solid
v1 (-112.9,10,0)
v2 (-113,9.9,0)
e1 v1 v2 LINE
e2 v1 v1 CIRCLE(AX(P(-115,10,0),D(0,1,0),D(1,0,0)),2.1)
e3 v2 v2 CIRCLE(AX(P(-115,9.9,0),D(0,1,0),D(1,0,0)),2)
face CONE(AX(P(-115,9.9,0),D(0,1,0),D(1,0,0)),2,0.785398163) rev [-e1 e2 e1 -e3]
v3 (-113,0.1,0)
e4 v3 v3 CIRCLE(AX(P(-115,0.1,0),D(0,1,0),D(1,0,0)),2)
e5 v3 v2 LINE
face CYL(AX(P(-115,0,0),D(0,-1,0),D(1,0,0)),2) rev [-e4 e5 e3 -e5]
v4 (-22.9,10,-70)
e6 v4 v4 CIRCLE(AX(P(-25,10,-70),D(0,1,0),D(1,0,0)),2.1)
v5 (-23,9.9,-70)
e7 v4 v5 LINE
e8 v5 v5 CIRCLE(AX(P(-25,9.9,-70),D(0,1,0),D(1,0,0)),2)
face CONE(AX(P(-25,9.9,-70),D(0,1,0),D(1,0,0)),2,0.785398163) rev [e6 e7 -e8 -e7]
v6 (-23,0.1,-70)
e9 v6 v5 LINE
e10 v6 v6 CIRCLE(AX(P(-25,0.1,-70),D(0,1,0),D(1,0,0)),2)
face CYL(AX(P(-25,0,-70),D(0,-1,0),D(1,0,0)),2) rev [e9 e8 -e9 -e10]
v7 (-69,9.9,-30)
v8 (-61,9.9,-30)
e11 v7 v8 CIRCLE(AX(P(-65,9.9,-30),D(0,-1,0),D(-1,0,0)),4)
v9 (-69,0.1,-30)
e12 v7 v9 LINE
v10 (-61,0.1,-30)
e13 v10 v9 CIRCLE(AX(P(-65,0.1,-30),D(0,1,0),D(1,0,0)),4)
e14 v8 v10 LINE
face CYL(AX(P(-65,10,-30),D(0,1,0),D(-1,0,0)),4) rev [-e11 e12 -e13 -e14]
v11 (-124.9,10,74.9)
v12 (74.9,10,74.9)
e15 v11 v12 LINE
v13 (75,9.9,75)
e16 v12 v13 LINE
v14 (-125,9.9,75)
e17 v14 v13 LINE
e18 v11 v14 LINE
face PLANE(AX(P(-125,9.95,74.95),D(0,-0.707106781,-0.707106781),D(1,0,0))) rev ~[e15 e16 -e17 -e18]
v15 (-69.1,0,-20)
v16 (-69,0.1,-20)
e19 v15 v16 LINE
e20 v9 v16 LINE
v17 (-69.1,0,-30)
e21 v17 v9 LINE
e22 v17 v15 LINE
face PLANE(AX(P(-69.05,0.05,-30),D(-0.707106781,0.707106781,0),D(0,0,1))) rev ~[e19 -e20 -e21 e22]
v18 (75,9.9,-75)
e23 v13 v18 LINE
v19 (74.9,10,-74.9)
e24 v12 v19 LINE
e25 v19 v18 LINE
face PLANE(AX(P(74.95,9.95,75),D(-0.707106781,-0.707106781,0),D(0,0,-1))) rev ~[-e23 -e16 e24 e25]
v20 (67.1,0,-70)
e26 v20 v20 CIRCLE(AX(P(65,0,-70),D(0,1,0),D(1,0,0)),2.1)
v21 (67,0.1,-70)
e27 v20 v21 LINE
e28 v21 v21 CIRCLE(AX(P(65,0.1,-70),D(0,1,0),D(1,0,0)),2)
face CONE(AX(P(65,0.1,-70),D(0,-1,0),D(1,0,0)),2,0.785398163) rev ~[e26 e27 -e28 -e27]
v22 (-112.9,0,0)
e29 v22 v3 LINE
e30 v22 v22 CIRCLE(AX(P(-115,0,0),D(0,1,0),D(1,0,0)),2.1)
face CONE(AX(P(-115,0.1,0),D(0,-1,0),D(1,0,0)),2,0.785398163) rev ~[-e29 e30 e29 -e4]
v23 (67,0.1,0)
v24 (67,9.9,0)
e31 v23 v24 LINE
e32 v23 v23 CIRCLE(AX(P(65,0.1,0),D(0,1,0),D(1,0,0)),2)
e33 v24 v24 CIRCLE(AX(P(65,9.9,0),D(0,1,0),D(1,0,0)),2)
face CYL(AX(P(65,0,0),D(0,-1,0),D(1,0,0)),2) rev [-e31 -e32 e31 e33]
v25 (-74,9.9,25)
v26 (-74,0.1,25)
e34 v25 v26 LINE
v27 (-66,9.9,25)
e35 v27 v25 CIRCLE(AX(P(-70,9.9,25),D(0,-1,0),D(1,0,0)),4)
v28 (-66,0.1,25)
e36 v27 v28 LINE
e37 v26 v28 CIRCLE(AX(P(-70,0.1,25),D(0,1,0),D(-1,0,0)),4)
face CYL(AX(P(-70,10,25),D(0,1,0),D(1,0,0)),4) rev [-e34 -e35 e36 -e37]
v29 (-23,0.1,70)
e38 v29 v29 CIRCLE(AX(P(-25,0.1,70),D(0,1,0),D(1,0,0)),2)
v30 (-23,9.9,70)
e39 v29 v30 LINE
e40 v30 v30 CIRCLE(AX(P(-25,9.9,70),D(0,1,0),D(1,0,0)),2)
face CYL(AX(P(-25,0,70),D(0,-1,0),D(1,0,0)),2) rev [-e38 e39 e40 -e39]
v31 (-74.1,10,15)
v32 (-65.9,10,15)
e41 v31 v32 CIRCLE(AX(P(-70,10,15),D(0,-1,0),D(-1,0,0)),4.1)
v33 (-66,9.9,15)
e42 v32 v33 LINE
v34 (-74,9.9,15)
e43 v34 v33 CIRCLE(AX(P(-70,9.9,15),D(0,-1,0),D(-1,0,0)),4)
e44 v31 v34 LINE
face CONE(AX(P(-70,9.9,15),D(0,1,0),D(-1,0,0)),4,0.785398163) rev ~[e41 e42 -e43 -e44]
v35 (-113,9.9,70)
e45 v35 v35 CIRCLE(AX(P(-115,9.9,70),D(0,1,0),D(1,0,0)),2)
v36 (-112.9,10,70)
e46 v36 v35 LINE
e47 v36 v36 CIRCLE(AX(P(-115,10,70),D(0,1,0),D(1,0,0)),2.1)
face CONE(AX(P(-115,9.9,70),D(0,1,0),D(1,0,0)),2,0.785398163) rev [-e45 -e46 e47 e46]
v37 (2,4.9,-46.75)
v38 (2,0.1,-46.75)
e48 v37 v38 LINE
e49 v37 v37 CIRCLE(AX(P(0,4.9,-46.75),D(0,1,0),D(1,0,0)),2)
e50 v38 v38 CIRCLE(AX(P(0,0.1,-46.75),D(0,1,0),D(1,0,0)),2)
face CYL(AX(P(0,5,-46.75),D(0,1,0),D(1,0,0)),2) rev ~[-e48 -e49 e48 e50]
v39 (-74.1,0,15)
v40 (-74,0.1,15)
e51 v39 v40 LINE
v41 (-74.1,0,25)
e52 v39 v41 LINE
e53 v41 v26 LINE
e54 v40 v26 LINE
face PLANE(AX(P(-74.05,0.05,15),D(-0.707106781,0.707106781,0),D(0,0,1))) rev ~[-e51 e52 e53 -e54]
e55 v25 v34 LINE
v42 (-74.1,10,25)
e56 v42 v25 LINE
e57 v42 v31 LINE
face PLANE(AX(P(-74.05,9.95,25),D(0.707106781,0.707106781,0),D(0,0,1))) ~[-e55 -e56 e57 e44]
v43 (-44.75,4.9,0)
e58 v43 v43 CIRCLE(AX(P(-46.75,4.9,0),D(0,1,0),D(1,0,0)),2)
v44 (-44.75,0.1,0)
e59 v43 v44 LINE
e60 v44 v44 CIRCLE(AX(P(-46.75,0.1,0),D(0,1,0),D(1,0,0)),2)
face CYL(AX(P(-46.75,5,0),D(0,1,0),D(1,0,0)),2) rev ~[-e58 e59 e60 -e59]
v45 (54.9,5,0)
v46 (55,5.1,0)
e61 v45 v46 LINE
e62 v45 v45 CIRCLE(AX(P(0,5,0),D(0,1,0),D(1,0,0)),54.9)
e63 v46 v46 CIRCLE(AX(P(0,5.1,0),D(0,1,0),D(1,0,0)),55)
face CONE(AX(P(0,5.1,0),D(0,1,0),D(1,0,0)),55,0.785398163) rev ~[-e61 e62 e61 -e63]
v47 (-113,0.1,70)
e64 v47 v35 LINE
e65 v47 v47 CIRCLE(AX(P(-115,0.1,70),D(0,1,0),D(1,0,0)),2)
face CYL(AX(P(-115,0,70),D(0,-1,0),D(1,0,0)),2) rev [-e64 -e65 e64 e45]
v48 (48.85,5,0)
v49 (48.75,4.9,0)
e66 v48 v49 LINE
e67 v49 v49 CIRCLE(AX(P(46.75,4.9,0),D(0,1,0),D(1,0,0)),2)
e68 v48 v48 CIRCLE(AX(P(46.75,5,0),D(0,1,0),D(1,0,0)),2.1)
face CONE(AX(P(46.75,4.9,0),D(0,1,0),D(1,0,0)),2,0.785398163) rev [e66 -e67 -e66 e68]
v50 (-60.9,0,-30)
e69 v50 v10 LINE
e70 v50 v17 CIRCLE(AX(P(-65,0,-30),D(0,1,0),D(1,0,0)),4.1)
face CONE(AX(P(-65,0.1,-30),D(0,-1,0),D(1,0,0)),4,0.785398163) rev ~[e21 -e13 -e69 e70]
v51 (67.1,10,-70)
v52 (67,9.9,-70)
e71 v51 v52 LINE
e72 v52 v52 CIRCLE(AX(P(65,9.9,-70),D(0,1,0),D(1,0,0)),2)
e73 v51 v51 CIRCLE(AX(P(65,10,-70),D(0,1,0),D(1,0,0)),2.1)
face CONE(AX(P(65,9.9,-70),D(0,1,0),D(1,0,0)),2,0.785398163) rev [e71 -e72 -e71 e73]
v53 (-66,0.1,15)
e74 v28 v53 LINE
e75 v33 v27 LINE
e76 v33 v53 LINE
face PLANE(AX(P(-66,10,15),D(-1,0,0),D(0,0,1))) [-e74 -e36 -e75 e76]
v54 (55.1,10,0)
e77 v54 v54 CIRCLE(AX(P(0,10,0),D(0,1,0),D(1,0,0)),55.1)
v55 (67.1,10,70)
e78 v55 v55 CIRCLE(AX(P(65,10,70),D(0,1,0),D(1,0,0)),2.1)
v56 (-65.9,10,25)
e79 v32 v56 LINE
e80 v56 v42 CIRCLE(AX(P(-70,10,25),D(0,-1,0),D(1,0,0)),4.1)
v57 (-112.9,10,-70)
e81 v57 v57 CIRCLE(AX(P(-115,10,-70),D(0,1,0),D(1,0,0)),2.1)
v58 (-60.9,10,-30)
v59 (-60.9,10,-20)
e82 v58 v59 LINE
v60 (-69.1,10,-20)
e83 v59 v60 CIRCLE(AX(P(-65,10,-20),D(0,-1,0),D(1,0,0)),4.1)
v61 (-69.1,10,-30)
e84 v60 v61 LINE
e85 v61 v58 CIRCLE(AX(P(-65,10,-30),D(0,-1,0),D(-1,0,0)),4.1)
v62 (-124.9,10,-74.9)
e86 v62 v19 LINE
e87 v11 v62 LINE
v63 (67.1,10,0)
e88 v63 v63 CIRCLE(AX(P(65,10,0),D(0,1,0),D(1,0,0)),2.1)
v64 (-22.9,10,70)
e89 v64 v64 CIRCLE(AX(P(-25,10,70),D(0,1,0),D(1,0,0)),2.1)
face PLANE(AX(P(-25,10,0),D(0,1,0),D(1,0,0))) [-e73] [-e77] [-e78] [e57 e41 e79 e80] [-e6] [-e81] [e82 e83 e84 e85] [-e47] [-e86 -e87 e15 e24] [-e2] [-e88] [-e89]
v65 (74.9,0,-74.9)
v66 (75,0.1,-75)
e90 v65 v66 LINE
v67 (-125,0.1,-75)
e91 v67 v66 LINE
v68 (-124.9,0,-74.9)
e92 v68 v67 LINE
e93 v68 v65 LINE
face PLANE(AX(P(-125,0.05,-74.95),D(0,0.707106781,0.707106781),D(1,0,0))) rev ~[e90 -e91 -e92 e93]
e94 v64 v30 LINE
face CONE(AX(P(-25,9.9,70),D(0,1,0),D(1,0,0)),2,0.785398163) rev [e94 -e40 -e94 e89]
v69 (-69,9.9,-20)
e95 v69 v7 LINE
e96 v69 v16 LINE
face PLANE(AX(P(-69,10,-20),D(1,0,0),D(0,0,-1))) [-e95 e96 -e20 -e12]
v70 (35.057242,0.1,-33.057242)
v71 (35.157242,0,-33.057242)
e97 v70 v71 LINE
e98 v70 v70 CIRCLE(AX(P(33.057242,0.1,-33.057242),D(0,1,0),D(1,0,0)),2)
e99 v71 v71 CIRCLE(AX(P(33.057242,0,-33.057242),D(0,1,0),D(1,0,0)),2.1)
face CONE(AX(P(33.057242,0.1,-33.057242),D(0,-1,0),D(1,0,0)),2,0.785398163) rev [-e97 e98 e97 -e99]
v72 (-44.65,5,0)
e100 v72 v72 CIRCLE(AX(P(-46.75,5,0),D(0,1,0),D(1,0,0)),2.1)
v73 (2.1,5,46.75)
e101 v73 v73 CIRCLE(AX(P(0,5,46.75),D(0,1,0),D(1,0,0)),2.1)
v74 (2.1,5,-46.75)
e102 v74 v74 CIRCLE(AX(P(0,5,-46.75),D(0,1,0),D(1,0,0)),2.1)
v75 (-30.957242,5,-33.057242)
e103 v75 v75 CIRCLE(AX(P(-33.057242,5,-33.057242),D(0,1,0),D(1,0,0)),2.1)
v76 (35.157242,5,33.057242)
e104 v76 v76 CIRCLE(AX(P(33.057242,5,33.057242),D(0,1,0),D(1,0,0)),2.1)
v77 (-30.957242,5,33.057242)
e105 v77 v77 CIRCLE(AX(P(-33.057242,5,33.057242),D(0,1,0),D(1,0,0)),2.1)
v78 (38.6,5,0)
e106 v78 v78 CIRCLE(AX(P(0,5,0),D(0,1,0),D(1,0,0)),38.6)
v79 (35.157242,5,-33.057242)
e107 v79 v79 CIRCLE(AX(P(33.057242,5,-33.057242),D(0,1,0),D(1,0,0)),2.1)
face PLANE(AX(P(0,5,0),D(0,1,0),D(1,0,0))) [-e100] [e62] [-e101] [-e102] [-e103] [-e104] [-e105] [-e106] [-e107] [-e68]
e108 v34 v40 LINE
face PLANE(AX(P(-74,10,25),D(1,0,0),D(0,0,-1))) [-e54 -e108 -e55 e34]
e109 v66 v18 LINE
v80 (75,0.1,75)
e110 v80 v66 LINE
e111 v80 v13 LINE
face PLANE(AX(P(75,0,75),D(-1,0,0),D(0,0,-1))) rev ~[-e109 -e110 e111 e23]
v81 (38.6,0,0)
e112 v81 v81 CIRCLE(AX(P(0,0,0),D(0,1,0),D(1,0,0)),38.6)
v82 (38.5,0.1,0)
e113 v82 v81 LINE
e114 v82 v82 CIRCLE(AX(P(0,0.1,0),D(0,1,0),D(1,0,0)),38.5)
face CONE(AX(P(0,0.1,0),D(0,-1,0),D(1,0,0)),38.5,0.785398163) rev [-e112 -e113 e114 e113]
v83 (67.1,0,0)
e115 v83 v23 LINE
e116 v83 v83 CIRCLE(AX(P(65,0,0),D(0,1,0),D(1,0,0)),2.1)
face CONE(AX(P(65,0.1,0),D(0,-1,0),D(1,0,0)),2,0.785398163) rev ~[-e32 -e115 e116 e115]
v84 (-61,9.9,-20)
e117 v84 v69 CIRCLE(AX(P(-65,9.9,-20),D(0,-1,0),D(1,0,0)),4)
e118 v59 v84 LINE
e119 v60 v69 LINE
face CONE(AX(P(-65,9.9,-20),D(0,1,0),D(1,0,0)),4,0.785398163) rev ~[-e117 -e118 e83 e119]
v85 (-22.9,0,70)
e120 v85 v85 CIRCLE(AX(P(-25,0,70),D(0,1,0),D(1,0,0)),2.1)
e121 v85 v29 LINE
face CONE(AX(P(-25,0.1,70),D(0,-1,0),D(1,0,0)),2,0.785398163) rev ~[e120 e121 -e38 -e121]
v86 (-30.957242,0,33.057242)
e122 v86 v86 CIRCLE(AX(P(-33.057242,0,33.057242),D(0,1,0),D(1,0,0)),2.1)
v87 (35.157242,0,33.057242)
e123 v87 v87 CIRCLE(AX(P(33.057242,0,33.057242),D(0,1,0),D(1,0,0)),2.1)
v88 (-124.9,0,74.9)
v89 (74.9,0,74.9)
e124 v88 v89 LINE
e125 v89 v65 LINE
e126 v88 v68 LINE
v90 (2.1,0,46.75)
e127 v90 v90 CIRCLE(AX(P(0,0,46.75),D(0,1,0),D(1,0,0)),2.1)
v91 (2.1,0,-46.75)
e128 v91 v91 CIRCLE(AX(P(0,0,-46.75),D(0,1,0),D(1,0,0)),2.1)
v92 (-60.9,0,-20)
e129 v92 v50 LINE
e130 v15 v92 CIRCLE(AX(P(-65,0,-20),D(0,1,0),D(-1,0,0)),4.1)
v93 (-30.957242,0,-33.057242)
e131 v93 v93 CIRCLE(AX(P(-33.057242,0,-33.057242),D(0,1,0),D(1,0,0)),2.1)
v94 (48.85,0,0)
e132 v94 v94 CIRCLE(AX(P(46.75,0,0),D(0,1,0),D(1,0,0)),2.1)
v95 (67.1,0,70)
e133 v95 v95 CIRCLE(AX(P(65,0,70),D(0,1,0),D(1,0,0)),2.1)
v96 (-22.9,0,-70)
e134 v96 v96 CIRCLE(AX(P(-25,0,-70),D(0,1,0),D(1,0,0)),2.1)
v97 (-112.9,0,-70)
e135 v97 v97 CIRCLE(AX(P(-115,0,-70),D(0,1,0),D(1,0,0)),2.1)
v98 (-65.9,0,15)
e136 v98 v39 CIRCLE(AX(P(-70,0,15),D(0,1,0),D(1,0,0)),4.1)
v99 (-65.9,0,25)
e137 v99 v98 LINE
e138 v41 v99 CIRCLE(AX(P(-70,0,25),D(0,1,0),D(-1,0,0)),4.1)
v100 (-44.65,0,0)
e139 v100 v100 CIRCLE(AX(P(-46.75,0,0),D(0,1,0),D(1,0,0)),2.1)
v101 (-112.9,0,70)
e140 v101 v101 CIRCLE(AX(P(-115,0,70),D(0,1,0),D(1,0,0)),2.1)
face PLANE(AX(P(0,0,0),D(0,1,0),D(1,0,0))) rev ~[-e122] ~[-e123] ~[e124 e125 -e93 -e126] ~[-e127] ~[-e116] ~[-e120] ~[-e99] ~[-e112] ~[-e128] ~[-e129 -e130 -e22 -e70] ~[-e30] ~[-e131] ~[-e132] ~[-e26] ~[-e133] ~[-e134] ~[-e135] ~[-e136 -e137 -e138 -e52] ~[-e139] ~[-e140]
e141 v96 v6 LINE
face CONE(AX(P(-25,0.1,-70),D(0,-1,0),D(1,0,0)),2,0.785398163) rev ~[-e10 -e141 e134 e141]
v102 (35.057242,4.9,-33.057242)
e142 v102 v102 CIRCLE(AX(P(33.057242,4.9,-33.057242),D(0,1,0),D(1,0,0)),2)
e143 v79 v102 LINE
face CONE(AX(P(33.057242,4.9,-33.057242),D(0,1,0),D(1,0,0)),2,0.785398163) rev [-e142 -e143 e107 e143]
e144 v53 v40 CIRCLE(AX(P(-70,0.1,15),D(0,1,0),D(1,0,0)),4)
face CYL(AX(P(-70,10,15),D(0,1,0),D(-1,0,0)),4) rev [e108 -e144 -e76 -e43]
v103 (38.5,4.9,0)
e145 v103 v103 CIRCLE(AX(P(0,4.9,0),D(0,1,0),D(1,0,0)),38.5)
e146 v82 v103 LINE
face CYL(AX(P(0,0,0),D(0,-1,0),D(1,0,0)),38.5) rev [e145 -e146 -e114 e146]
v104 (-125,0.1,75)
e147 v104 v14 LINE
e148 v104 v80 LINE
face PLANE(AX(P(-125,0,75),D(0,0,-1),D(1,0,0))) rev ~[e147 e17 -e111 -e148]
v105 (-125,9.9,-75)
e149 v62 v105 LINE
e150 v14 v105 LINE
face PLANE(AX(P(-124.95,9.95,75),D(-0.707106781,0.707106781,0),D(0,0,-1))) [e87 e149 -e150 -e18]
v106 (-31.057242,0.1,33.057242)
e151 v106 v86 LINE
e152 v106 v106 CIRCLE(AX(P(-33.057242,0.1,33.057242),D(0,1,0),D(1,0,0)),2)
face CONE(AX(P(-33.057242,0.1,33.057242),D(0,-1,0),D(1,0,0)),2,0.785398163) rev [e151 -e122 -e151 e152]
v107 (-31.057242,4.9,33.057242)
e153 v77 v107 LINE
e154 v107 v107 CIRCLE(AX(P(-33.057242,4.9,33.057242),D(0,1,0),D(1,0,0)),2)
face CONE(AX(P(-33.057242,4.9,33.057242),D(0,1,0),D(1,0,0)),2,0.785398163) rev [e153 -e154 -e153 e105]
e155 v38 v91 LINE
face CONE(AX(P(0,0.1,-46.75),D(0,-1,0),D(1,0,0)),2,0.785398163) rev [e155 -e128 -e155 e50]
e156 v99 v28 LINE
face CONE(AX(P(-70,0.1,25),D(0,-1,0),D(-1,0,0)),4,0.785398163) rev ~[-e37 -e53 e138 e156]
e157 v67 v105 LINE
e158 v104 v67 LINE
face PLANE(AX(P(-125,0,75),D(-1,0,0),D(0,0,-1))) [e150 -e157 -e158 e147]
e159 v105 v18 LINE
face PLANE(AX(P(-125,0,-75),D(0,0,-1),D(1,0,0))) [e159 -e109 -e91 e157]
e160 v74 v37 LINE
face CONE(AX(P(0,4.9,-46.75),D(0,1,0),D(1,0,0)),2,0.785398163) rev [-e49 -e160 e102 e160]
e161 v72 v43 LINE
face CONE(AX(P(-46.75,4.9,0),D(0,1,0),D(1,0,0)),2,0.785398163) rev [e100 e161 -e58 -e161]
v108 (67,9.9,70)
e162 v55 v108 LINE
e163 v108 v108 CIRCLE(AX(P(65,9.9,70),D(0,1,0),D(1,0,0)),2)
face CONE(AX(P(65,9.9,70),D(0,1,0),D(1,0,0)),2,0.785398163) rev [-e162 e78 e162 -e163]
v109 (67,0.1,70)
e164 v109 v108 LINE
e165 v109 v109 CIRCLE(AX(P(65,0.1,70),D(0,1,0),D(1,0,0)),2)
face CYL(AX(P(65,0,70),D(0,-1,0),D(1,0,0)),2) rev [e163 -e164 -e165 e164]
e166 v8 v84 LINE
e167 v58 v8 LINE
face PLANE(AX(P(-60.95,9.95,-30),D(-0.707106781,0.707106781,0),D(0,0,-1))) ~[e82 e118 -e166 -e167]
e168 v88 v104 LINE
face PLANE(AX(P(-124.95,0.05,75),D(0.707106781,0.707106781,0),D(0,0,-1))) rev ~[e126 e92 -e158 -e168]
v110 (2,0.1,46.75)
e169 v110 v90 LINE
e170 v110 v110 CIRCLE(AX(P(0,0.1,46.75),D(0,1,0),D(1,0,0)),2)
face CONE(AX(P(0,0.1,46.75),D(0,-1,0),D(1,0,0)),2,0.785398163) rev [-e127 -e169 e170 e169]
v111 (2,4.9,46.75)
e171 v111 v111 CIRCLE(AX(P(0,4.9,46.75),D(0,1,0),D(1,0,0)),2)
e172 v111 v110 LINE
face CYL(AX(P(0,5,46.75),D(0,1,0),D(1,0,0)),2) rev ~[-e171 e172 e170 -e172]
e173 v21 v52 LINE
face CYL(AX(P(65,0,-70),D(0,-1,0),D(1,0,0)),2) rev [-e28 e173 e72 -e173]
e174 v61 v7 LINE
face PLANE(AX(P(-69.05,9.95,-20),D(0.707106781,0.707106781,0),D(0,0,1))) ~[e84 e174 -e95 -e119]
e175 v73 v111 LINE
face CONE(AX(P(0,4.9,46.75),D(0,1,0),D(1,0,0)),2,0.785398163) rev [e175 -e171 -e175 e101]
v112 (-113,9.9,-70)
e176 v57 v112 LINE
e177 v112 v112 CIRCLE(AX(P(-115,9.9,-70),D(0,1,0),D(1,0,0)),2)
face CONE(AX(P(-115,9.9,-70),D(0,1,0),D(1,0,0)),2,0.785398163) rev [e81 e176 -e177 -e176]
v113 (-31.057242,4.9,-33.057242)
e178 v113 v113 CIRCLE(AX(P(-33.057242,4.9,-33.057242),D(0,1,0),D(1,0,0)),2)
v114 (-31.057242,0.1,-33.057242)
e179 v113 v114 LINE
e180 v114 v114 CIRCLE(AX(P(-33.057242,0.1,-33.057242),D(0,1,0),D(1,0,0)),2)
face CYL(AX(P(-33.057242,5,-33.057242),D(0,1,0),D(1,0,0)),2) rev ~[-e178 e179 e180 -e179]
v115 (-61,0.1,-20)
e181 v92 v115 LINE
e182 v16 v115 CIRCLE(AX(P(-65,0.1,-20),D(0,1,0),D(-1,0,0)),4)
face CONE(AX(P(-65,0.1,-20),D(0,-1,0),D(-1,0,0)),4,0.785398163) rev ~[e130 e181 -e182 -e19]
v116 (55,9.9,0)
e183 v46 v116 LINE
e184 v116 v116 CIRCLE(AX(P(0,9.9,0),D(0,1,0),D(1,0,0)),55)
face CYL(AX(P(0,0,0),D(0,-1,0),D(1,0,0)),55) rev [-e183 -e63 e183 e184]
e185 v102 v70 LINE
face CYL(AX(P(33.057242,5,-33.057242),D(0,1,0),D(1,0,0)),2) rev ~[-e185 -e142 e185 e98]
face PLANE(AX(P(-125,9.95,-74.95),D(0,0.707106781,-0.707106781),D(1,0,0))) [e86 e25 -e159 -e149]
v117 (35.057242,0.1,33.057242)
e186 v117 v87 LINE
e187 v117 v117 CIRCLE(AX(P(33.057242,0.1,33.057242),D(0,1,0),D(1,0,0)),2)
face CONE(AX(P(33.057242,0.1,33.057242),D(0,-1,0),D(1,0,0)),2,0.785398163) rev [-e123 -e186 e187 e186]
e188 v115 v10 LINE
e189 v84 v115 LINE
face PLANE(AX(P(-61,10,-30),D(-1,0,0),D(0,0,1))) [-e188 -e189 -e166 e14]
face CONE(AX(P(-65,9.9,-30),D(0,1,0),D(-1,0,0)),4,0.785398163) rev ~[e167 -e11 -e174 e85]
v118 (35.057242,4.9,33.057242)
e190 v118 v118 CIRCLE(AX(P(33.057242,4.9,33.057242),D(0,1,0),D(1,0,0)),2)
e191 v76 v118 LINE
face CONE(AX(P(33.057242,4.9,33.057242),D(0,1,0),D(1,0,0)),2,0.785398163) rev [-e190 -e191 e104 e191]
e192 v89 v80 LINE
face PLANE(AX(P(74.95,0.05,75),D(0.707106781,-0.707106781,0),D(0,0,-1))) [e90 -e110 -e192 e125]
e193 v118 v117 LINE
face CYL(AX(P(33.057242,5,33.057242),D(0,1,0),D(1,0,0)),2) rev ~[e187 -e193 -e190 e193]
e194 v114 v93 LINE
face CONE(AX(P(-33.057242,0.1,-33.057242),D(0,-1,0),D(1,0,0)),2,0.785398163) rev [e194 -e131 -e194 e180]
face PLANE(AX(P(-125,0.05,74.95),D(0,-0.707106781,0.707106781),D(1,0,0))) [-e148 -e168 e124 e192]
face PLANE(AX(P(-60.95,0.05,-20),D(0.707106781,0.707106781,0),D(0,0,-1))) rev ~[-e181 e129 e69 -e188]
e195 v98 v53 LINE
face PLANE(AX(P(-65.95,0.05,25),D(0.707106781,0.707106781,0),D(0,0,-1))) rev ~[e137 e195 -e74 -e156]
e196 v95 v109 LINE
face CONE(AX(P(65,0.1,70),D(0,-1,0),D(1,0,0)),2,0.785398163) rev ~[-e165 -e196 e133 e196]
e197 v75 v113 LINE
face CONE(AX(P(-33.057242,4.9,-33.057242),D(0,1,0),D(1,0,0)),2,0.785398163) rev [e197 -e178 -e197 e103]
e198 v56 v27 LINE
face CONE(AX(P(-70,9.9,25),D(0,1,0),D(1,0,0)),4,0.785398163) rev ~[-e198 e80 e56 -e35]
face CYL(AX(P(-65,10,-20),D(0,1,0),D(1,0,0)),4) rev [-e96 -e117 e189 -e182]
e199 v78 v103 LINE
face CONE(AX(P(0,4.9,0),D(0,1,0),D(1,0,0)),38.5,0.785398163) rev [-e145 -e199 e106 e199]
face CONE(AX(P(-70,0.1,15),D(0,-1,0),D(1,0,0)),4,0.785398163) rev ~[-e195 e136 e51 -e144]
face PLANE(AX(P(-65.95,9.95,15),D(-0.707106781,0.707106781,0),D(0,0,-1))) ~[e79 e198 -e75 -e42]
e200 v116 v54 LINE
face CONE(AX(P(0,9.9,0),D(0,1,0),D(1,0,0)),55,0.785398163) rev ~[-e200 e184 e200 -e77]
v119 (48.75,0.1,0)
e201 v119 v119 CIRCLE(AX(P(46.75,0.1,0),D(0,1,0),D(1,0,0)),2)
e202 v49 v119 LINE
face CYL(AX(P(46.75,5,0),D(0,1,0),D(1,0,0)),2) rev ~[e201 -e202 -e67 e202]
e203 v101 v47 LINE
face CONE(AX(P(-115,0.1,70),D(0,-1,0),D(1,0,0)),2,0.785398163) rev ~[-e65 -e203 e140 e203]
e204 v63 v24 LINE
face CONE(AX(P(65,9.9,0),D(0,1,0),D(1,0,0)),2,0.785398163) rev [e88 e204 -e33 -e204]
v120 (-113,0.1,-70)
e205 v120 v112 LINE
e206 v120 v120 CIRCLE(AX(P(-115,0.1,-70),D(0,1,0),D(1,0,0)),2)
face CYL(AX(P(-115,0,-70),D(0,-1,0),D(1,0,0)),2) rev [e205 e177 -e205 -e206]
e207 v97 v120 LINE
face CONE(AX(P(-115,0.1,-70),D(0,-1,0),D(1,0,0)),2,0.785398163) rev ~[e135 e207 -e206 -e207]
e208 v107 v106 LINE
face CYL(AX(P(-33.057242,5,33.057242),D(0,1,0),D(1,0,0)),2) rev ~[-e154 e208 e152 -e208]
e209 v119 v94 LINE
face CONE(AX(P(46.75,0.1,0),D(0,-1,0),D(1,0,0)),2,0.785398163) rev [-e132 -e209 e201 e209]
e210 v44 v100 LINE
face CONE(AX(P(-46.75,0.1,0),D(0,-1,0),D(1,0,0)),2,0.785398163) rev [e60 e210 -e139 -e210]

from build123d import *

# Parameters (mm, degrees)
SKETCH1_W           = 200
SKETCH1_H           = 150
SKETCH1_R           = 2
SKETCH1_R_2         = 55
BOSS_EXTRUDE1_DEPTH = 10
SKETCH1_3_R         = 55
SKETCH1_3_R_2       = 38.5
BOSS_EXTRUDE2_DEPTH = 5
SKETCH1_4_R         = 38.5
BOSS_EXTRUDE3_DEPTH = 9
SKETCH2_R           = 2
CUT_EXTRUDE1_DEPTH  = 146.859521458
SKETCH1_5_R         = 38.5
CUT_EXTRUDE2_DEPTH  = 147.116391962
CUT_EXTRUDE3_DEPTH  = 147.116391962
CHAMFER1_SIZE       = 0.1


with BuildPart() as part:
    # Sketch1 → Boss-Extrude1 (new body)
    with BuildSketch(Plane(origin=(0, 0, 0), x_dir=(1, 0, 0), z_dir=(0, 1, 0))):
        with Locations((-25, 0)):
            Rectangle(SKETCH1_W, SKETCH1_H)
        with Locations((-115, -70)):
            Circle(SKETCH1_R, mode=Mode.SUBTRACT)
        with Locations((-25, -70)):
            Circle(SKETCH1_R, mode=Mode.SUBTRACT)
        with Locations((65, -70)):
            Circle(SKETCH1_R, mode=Mode.SUBTRACT)
        with Locations((-115, 0)):
            Circle(SKETCH1_R, mode=Mode.SUBTRACT)
        with Locations((-115, 70)):
            Circle(SKETCH1_R, mode=Mode.SUBTRACT)
        Circle(SKETCH1_R_2, mode=Mode.SUBTRACT)
        with Locations((65, 0)):
            Circle(SKETCH1_R, mode=Mode.SUBTRACT)
        with Locations((-25, 70)):
            Circle(SKETCH1_R, mode=Mode.SUBTRACT)
        with Locations((65, 70)):
            Circle(SKETCH1_R, mode=Mode.SUBTRACT)
    extrude(amount=BOSS_EXTRUDE1_DEPTH)

    # Sketch1<3> → Boss-Extrude2 (add)
    with BuildSketch(Plane(origin=(0, 0, 0), x_dir=(1, 0, 0), z_dir=(0, 1, 0))):
        Circle(SKETCH1_3_R)
        Circle(SKETCH1_3_R_2, mode=Mode.SUBTRACT)
    extrude(amount=BOSS_EXTRUDE2_DEPTH)

    # Sketch1<4> → Boss-Extrude3 (add)
    with BuildSketch(Plane(origin=(0, 0, 0), x_dir=(1, 0, 0), z_dir=(0, 1, 0))):
        Circle(SKETCH1_4_R)
    extrude(amount=BOSS_EXTRUDE3_DEPTH)

    # Sketch2 → Cut-Extrude1 (cut, through all)
    with BuildSketch(Plane(origin=(0, 5, 0), x_dir=(1, 0, 0), z_dir=(0, 1, 0))):
        with Locations((0, 46.75)):
            Circle(SKETCH2_R)
        with Locations((33.05724202, 33.05724202)):
            Circle(SKETCH2_R)
        with Locations((46.75, 0)):
            Circle(SKETCH2_R)
        with Locations((33.05724202, -33.05724202)):
            Circle(SKETCH2_R)
        with Locations((0, -46.75)):
            Circle(SKETCH2_R)
        with Locations((-33.05724202, -33.05724202)):
            Circle(SKETCH2_R)
        with Locations((-46.75, 0)):
            Circle(SKETCH2_R)
        with Locations((-33.05724202, 33.05724202)):
            Circle(SKETCH2_R)
    extrude(amount=-CUT_EXTRUDE1_DEPTH, mode=Mode.SUBTRACT)

    # Sketch1<5> → Cut-Extrude2 (cut, through all)
    with BuildSketch(Plane(origin=(0, 0, 0), x_dir=(1, 0, 0), z_dir=(0, 1, 0))):
        Circle(SKETCH1_5_R)
    extrude(amount=CUT_EXTRUDE2_DEPTH, mode=Mode.SUBTRACT)

    # Sketch4 → Cut-Extrude3 (cut, through all)
    with BuildSketch(Plane(origin=(0, 10, 0), x_dir=(1, 0, 0), z_dir=(0, 1, 0))):
        with BuildLine():
            Line((-61, 30), (-61, 20))
            ThreePointArc((-61, 20), (-65, 16), (-69, 20))
            Line((-69, 20), (-69, 30))
            ThreePointArc((-69, 30), (-65, 34), (-61, 30))
        make_face()
        with BuildLine():
            Line((-74, -25), (-74, -15))
            ThreePointArc((-74, -15), (-70, -11), (-66, -15))
            Line((-66, -15), (-66, -25))
            ThreePointArc((-66, -25), (-70, -29), (-74, -25))
        make_face()
    extrude(amount=-CUT_EXTRUDE3_DEPTH, mode=Mode.SUBTRACT)

    # Chamfer1
    chamfer1_edges = [part.edges().sort_by_distance(p)[0] for p in [
        (-117, 0, 70),
        (-25, 0, -75),
        (-125, 0, 0),
        (-25, 0, 75),
        (75, 0, 0),
        (63, 0, -70),
        (-117, 0, -70),
        (63, 0, 70),
        (-35.05724202, 0, -33.05724202),
        (-48.75, 0, 0),
        (-35.05724202, 0, 33.05724202),
        (-2, 0, 46.75),
        (31.05724202, 0, 33.05724202),
        (44.75, 0, 0),
        (31.05724202, 0, -33.05724202),
        (-2, 0, -46.75),
        (-38.5, 0, 0),
        (-117, 10, 70),
        (-25, 10, 75),
        (-125, 10, 0),
        (-25, 10, -75),
        (75, 10, 0),
        (-55, 10, 0),
        (63, 10, -70),
        (-117, 10, -70),
        (63, 10, 70),
        (-55, 5, 0),
        (-38.5, 5, 0),
        (-35.05724202, 5, -33.05724202),
        (-48.75, 5, 0),
        (-35.05724202, 5, 33.05724202),
        (-2, 5, 46.75),
        (31.05724202, 5, 33.05724202),
        (44.75, 5, 0),
        (31.05724202, 5, -33.05724202),
        (-2, 5, -46.75),
        (-70, 0, 11),
        (-66, 0, 20),
        (-70, 0, 29),
        (-74, 0, 20),
        (-65, 0, -16),
        (-69, 0, -25),
        (-65, 0, -34),
        (-61, 0, -25),
        (-66, 10, 20),
        (-70, 10, 11),
        (-74, 10, 20),
        (-70, 10, 29),
        (-69, 10, -25),
        (-65, 10, -16),
        (-61, 10, -25),
        (-65, 10, -34),
        (-27, 0, 70),
        (-27, 0, -70),
        (-27, 10, 70),
        (-27, 10, -70),
        (63, 0, 0),
        (-117, 0, 0),
        (63, 10, 0),
        (-117, 10, 0),
    ]]
    chamfer(chamfer1_edges, length=CHAMFER1_SIZE)


solid = part.part
